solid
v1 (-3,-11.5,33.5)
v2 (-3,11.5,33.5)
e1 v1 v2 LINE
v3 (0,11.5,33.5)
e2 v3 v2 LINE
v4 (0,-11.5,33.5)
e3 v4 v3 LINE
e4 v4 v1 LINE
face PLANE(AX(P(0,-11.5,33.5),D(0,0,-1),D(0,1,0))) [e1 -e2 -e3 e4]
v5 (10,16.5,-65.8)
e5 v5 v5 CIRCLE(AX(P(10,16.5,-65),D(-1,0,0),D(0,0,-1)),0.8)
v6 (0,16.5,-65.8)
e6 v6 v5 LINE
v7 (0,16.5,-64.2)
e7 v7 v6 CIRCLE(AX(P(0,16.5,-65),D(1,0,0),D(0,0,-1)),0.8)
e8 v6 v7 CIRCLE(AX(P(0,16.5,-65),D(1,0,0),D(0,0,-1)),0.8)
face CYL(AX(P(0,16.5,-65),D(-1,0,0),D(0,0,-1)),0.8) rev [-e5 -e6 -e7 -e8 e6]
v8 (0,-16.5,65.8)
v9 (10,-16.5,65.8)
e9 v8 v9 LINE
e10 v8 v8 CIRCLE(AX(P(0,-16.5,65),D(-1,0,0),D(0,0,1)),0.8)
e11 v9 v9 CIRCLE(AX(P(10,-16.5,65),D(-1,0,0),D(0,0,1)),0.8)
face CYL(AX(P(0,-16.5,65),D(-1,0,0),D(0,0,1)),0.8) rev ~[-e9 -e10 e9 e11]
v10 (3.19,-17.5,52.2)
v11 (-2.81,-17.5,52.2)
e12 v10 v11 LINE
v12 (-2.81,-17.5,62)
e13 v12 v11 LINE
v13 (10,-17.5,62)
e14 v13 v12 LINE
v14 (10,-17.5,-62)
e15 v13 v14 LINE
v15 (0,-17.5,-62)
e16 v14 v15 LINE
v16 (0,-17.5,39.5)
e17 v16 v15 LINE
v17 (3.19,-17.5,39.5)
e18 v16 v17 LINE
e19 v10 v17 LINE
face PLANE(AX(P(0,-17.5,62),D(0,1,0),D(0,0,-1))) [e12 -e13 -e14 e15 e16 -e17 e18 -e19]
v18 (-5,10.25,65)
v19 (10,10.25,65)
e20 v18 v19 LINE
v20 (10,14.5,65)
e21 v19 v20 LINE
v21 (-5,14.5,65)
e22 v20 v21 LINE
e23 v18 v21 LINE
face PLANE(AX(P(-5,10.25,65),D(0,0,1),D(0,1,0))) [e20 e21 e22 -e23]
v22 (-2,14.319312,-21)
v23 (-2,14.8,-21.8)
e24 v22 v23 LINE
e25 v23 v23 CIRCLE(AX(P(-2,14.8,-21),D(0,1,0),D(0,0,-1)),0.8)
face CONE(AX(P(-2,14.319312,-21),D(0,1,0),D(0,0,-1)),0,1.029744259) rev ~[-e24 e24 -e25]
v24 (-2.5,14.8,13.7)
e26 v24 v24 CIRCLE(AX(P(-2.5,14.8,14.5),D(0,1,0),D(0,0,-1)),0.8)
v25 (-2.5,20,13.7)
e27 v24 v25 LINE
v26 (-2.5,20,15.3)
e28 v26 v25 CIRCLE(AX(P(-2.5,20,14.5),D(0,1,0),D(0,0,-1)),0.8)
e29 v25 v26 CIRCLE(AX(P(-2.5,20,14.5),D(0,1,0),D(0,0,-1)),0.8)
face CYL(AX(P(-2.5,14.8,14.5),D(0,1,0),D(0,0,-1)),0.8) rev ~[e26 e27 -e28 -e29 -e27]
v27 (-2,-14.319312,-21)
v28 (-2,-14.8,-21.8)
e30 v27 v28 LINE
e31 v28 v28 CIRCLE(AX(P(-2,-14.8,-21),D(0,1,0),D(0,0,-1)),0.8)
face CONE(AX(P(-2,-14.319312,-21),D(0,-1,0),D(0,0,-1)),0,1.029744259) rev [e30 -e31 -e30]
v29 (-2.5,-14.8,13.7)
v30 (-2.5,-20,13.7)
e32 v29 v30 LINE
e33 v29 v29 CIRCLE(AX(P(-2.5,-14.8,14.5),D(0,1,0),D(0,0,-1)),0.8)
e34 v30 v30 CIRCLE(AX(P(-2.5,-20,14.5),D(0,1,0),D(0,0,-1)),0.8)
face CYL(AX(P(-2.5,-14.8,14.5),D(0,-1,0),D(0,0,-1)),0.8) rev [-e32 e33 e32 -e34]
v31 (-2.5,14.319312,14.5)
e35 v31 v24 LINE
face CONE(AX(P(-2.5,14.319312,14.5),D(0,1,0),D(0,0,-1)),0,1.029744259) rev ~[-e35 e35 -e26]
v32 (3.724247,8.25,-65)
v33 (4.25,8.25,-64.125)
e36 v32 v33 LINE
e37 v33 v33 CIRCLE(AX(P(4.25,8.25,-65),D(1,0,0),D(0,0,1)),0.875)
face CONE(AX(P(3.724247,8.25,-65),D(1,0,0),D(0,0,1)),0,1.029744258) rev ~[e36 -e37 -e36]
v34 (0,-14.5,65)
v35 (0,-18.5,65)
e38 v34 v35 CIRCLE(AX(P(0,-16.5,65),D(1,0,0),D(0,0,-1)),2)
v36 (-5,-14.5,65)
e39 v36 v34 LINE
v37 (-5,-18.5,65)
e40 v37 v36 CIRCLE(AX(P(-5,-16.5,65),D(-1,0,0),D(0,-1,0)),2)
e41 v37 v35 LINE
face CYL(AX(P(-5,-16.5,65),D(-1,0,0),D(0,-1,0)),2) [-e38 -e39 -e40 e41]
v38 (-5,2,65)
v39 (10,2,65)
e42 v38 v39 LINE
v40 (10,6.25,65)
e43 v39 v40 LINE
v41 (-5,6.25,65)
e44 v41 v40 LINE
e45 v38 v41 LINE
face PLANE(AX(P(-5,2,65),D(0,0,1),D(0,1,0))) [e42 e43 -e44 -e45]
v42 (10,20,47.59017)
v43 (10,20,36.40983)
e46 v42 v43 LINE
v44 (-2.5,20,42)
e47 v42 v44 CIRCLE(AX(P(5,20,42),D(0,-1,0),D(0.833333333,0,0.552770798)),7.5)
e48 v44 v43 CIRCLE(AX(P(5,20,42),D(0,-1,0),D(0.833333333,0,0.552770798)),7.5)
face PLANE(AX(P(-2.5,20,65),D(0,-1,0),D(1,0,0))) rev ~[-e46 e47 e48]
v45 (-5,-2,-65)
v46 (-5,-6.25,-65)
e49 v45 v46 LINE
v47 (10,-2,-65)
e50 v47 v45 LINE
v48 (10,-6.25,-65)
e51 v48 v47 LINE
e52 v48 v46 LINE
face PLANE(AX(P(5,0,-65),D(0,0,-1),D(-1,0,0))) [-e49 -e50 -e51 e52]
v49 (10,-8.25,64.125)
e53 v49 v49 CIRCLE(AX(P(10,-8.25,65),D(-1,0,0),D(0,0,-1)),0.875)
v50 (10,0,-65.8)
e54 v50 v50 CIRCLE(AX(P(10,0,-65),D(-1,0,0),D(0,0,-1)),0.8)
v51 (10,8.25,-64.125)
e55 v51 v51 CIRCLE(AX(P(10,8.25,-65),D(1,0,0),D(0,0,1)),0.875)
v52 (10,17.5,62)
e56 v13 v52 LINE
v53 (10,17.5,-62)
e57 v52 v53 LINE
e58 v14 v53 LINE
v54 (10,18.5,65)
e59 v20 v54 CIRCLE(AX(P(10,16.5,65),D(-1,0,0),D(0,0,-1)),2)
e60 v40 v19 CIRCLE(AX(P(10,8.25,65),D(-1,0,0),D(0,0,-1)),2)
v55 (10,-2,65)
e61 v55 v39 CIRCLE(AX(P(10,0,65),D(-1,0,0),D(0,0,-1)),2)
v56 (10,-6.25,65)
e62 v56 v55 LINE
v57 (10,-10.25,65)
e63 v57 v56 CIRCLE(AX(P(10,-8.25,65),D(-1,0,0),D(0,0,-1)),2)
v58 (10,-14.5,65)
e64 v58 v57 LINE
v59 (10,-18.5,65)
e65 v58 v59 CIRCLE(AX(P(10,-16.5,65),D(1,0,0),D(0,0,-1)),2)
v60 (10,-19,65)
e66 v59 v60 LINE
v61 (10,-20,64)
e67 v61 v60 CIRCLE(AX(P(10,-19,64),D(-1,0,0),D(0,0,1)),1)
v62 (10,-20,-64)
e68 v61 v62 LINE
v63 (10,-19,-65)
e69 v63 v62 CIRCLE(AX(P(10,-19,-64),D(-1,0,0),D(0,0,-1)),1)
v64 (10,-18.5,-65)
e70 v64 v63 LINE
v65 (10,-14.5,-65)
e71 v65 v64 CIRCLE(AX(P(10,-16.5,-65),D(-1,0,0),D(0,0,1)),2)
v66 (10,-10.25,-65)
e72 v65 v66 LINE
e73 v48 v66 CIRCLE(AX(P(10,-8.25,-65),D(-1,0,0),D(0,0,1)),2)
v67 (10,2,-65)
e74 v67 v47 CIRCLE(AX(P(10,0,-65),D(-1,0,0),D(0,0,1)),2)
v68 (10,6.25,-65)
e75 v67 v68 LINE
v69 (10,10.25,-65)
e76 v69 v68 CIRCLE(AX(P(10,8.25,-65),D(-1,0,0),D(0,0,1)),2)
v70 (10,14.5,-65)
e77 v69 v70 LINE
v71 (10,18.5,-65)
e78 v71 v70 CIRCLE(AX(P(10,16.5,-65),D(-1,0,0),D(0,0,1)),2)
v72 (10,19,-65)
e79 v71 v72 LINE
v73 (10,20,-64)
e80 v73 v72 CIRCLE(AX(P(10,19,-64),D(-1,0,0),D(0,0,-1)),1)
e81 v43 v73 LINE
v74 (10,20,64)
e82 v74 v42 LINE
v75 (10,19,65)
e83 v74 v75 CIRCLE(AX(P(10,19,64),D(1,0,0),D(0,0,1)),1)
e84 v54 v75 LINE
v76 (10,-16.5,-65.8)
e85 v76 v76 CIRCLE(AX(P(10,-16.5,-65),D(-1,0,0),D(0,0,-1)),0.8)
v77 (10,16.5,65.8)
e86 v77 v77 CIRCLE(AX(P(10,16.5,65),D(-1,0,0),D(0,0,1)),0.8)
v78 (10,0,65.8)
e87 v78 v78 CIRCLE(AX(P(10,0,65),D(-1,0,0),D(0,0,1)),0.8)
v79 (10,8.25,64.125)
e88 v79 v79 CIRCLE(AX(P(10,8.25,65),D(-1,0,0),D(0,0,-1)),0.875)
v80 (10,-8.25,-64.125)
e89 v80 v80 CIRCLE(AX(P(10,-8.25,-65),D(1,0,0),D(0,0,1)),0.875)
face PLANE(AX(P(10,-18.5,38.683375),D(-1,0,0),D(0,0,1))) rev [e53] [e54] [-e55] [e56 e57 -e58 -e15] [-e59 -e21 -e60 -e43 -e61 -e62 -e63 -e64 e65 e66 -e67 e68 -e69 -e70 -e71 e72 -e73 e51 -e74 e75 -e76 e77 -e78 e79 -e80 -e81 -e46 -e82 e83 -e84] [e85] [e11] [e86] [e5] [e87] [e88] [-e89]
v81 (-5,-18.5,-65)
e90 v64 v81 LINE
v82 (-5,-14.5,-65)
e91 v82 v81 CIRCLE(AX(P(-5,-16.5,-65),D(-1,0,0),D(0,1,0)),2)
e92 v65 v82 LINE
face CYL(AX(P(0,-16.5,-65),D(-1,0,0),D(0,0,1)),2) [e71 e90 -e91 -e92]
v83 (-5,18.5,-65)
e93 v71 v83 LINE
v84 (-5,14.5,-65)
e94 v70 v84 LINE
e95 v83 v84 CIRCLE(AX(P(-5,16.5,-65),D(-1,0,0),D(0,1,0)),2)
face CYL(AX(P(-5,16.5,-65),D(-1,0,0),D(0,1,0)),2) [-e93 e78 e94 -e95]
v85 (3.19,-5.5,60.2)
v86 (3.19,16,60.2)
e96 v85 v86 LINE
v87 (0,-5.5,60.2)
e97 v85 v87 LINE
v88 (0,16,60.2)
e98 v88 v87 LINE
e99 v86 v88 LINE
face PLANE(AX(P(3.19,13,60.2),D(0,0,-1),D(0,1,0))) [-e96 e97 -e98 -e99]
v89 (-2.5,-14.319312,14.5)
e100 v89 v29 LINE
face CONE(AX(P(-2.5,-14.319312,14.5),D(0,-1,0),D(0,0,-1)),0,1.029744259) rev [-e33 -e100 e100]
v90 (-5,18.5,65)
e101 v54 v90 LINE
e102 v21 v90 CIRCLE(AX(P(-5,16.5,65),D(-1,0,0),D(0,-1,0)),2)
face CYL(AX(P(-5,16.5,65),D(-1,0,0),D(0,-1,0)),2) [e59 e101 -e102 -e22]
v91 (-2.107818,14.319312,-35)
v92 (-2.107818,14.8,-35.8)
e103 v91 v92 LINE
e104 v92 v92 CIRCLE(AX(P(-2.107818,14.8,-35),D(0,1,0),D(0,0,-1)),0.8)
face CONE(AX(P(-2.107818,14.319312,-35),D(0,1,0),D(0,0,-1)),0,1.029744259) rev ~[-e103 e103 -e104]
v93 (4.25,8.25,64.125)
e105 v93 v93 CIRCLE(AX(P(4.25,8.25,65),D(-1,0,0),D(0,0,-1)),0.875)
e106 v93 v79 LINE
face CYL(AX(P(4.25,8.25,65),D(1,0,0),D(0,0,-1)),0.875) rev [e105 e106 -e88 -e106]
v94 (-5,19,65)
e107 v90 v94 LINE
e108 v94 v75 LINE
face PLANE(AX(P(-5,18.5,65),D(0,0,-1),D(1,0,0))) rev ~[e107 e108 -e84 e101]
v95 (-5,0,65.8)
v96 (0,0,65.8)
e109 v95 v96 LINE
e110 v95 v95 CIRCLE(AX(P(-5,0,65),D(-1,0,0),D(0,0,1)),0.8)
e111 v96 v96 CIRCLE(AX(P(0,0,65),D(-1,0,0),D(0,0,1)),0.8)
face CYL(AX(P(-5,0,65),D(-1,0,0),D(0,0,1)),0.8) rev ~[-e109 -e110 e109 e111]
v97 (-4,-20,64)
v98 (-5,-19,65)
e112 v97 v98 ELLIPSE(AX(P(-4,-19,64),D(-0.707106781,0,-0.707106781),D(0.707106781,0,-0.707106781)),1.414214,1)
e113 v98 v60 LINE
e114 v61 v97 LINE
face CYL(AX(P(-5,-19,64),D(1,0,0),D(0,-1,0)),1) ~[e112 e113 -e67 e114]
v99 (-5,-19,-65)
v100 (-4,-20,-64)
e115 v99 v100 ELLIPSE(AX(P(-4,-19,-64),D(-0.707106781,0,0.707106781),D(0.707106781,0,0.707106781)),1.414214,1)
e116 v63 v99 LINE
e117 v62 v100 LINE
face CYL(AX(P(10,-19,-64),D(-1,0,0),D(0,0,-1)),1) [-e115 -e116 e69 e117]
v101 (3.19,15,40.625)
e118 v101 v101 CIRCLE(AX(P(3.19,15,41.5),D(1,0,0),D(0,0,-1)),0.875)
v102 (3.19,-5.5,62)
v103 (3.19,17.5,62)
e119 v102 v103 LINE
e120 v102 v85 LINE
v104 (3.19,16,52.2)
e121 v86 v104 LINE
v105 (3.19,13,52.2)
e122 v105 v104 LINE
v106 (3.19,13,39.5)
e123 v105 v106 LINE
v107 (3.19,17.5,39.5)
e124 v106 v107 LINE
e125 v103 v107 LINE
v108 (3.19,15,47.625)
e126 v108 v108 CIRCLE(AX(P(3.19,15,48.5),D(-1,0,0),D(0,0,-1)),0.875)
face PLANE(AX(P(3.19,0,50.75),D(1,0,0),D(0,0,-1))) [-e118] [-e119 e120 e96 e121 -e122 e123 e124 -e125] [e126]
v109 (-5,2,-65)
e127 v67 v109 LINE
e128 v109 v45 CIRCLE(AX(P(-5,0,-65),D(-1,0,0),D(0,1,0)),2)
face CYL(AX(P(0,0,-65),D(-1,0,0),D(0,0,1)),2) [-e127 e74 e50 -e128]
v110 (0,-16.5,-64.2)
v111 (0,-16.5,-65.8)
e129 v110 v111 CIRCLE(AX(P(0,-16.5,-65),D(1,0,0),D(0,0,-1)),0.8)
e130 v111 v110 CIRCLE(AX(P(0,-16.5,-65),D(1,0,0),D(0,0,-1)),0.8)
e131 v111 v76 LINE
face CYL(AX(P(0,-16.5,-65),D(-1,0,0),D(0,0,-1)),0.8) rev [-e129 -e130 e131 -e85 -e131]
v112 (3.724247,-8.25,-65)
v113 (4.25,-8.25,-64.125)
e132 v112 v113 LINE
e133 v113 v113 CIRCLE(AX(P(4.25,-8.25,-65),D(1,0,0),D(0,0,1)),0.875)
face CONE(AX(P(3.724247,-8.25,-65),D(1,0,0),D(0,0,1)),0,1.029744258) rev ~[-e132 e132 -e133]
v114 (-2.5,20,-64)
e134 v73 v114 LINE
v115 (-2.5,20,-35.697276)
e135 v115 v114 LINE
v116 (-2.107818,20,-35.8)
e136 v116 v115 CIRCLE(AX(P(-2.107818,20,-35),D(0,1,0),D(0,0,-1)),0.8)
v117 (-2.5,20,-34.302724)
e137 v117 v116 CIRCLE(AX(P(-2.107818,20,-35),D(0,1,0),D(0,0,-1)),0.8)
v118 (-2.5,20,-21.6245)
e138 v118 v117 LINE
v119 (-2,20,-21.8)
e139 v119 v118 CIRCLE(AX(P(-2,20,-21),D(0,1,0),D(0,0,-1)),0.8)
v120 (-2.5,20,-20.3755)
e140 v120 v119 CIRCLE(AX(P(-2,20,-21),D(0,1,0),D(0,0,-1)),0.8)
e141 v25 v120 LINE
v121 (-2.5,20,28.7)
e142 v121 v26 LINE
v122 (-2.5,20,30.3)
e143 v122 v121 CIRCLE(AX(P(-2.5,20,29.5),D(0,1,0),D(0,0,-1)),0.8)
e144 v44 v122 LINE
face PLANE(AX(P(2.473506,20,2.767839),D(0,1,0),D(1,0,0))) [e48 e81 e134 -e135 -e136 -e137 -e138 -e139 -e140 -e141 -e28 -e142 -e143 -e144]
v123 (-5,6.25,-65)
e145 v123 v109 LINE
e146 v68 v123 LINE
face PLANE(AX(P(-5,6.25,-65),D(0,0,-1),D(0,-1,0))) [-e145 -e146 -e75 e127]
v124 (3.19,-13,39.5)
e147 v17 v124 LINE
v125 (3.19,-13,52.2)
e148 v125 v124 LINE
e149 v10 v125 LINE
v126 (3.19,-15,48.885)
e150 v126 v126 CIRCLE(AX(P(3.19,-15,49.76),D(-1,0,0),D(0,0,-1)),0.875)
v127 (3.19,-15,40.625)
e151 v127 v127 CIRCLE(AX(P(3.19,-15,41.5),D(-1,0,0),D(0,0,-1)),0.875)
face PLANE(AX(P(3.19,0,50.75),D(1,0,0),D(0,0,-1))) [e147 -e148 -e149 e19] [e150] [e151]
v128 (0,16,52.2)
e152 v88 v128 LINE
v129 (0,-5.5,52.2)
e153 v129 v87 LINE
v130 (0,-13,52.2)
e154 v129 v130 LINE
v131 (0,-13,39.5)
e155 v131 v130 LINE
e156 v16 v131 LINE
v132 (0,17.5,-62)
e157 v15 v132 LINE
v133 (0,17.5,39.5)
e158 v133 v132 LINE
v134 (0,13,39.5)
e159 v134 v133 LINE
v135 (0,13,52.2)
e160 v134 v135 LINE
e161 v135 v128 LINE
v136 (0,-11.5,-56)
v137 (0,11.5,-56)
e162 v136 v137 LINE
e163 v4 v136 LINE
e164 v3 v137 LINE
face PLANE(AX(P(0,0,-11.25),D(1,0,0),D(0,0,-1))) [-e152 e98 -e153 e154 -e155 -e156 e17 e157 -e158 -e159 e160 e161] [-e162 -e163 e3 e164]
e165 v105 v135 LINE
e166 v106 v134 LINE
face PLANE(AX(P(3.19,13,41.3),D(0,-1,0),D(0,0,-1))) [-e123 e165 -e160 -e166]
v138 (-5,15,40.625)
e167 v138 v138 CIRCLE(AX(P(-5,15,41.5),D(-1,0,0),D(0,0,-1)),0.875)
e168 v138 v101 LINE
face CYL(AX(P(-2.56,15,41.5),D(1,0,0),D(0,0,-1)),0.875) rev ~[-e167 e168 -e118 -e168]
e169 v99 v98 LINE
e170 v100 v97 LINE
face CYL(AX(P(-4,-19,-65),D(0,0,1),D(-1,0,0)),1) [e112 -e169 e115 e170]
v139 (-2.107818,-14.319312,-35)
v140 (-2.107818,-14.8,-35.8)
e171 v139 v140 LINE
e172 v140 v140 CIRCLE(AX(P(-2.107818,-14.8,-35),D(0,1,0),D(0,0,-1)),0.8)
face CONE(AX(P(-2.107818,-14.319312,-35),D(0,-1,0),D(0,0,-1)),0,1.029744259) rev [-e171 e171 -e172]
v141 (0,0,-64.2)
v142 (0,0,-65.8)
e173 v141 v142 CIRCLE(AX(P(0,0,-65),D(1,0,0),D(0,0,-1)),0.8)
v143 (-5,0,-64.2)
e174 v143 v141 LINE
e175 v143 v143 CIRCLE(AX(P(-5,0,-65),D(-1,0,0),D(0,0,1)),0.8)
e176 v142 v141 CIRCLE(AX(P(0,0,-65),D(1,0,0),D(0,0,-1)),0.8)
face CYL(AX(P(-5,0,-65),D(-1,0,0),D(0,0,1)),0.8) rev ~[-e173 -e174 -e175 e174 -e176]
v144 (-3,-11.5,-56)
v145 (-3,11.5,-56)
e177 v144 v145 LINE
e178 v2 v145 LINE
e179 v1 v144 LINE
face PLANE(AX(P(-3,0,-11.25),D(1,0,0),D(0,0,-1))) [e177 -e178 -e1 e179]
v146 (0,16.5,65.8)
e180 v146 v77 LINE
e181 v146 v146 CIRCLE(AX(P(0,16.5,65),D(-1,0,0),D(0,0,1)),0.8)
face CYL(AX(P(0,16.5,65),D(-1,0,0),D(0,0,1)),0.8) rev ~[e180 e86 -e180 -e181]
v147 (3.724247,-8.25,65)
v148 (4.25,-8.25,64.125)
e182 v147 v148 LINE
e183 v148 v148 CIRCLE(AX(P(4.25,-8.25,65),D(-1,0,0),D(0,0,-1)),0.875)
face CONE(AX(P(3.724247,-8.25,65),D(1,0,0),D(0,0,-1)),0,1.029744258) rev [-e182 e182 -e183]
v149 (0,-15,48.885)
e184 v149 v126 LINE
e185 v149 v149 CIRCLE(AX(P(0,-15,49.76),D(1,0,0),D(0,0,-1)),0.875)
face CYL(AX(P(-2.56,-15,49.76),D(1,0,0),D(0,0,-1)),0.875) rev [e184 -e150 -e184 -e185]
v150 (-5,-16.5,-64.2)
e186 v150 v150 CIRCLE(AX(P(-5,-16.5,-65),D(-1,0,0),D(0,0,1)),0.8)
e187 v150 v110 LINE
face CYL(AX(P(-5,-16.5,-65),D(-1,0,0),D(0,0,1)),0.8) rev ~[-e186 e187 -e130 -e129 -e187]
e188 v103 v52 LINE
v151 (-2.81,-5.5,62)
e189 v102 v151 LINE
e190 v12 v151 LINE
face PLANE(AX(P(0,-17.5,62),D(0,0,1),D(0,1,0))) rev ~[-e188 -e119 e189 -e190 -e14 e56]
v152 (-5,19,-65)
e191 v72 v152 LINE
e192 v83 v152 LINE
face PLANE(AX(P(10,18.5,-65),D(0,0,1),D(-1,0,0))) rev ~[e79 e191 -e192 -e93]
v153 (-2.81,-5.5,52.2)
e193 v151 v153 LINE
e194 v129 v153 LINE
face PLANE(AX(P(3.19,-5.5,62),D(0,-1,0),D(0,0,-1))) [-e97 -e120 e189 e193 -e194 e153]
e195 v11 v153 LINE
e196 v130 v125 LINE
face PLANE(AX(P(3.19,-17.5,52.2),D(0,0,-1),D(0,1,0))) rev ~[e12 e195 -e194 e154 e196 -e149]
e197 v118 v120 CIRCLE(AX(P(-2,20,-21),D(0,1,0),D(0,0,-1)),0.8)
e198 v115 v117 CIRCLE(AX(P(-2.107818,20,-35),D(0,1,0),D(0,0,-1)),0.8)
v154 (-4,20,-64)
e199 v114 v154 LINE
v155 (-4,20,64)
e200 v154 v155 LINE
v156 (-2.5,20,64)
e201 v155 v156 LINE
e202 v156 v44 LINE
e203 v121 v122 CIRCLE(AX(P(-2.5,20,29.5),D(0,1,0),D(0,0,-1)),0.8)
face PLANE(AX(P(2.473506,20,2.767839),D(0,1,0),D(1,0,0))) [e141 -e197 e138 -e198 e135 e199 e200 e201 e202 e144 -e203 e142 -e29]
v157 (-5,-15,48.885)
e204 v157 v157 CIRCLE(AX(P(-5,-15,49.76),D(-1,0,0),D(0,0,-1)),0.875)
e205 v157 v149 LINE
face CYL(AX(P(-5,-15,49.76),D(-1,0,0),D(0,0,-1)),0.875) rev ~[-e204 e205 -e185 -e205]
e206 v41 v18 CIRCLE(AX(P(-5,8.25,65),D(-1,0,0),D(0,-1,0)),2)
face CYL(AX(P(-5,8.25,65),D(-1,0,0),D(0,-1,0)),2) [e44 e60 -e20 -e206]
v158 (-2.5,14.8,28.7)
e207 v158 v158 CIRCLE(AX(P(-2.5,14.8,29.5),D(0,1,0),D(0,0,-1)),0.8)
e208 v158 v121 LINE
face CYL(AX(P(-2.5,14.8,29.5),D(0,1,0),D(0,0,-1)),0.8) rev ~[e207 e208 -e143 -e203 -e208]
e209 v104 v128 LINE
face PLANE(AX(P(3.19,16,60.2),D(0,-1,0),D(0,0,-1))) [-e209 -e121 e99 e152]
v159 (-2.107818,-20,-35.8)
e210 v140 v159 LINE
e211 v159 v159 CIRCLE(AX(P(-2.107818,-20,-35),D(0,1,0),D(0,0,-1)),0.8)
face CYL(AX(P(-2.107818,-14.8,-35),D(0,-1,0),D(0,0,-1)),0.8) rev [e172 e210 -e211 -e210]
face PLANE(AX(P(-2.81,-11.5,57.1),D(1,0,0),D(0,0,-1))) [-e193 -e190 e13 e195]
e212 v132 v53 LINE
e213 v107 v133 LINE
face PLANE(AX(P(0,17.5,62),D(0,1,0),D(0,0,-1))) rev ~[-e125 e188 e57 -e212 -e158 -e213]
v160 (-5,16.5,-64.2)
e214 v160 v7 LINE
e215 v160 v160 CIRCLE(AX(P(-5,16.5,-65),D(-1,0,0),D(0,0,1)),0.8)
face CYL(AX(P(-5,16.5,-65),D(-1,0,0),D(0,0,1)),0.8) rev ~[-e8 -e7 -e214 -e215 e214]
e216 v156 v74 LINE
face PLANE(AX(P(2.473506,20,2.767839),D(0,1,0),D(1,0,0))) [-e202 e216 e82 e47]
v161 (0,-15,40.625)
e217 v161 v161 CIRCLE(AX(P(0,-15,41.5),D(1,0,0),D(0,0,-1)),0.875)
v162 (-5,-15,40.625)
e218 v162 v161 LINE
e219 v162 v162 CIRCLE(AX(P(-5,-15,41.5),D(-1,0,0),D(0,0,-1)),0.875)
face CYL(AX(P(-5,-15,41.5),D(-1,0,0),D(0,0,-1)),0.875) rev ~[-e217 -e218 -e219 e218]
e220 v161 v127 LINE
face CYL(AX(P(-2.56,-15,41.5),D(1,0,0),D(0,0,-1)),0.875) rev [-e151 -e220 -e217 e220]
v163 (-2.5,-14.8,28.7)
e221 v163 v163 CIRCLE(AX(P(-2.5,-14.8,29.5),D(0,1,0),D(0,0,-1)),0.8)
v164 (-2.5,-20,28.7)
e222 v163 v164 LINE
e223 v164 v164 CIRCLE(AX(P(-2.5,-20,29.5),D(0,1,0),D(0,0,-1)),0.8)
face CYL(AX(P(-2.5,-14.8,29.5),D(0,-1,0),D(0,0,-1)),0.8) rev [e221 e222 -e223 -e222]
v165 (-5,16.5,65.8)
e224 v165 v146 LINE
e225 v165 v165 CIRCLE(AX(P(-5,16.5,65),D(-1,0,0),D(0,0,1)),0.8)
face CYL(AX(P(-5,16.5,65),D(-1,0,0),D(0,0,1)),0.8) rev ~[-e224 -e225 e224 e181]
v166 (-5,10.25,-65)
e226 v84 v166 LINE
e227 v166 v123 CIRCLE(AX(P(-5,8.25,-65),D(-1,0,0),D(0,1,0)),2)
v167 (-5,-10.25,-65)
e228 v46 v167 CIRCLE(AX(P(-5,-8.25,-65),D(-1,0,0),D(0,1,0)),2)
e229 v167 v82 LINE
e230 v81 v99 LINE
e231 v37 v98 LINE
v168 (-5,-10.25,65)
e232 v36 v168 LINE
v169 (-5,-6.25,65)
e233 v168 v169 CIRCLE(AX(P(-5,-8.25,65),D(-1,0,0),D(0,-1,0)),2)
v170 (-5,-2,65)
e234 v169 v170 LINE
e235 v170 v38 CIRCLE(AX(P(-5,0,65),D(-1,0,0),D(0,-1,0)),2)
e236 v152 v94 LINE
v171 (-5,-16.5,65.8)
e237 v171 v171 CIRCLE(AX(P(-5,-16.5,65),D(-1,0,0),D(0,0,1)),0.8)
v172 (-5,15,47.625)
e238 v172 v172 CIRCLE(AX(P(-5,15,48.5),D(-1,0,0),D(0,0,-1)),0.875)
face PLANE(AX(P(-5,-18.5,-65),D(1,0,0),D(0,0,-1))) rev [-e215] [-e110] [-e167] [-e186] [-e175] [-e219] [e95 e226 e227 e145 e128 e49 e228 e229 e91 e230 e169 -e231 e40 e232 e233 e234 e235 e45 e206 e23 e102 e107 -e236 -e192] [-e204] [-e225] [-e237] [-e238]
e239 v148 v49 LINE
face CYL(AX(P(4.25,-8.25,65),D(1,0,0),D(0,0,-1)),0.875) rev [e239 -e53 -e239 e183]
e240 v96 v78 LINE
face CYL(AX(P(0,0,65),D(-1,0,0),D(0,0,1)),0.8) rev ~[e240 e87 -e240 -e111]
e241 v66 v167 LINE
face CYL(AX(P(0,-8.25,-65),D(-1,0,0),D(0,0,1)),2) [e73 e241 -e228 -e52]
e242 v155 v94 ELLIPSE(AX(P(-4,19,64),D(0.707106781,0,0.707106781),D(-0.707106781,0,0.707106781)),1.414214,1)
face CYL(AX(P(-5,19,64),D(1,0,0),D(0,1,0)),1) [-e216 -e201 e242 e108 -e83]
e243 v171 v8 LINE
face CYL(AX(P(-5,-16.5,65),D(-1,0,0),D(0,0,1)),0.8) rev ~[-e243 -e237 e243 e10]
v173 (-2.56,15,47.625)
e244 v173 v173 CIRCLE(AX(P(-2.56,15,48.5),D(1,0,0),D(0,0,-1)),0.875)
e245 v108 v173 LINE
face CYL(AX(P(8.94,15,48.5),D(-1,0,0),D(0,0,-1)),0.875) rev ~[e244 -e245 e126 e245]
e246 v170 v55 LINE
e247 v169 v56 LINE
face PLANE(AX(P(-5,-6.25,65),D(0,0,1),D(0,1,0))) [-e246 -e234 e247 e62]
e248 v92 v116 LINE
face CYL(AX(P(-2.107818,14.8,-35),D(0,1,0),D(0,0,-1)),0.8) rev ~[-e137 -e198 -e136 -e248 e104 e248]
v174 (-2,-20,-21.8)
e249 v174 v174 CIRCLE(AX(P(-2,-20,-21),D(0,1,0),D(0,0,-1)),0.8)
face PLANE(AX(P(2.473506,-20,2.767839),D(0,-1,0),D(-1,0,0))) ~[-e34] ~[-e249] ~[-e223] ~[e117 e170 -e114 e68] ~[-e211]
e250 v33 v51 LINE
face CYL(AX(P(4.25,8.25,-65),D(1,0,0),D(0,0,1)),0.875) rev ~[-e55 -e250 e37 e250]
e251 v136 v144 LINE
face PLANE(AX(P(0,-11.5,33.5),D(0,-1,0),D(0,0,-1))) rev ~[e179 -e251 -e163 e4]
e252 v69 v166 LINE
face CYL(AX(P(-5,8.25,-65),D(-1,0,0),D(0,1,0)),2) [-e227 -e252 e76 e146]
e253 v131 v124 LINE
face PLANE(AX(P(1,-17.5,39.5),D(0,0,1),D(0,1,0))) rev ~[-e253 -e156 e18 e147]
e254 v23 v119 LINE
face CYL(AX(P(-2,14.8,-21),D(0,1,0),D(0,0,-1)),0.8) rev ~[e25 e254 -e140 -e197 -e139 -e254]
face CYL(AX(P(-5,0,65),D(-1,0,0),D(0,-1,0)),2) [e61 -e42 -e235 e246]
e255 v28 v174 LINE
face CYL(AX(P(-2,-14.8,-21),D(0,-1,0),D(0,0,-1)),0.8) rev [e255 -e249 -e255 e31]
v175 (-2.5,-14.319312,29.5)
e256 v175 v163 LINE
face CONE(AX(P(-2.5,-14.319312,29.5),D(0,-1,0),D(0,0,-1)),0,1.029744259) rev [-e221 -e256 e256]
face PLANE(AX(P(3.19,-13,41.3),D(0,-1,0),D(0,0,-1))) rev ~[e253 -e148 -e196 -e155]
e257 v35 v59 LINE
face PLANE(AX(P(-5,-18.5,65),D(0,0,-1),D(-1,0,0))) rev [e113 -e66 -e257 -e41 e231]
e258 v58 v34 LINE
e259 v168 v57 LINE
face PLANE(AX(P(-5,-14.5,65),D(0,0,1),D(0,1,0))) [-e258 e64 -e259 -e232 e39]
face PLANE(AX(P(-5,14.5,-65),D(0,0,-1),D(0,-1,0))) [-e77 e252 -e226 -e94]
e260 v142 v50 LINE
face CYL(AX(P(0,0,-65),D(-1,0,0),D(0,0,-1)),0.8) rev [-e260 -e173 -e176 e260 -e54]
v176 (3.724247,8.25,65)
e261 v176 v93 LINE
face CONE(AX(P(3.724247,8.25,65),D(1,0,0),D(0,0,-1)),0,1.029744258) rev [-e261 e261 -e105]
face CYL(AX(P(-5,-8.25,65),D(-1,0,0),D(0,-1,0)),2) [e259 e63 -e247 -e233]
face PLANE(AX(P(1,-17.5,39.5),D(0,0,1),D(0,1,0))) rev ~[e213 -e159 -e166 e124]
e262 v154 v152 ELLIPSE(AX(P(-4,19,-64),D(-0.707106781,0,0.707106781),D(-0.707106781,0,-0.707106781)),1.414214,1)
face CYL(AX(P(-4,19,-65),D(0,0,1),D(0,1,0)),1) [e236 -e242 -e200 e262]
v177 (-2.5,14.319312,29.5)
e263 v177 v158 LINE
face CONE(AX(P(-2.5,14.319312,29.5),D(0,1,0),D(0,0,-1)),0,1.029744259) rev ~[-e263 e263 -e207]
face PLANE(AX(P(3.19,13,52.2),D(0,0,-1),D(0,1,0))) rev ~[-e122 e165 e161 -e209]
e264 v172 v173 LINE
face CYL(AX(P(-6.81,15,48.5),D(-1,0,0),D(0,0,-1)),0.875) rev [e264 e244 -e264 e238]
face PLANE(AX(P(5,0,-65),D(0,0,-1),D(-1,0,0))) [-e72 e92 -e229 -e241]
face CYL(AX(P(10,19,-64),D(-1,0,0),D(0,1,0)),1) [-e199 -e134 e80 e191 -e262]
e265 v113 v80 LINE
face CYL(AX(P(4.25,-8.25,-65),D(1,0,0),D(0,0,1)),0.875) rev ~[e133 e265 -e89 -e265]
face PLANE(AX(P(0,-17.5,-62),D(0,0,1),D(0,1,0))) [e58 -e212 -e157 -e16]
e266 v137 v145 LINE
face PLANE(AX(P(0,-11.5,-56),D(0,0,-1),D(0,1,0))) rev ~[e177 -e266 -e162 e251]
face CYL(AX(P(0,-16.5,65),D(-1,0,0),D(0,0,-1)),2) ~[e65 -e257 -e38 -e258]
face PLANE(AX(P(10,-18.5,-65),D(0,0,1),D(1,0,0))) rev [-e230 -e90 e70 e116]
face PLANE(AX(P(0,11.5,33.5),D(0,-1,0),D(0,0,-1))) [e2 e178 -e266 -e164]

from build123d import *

# Parameters (mm, degrees)
SKETCH_1_W                  = 126
SKETCH_1_H                  = 37
SKETCH_1_W_2                = 124
SKETCH_1_H_2                = 35
EXTRUDE_1_DEPTH             = 10
SKETCH_2_W                  = 126
SKETCH_2_H                  = 37
EXTRUDE_2_DEPTH             = 1
SKETCH_3_W                  = 10
SKETCH_3_H                  = 37
EXTRUDE_3_DEPTH             = 2
SKETCH_4_W                  = 10
SKETCH_4_H                  = 37
EXTRUDE_4_DEPTH             = 2
SKETCH_5_W                  = 22.5
SKETCH_5_H                  = 35
EXTRUDE_5_DEPTH             = 2.19
SKETCH_6_W                  = 18.9
SKETCH_6_H                  = 26
CUT_EXTRUDE_2_DEPTH         = 7
SKETCH_7_W                  = 1.8
SKETCH_7_H                  = 26
CUT_EXTRUDE_3_DEPTH         = 4
M2_2X0_45_2_AT_2_COUNT      = 2
M2_2X0_45_2_AT_2_PITCH      = 8.26
SKETCH_10_R                 = 2
EXTRUDE_6_DEPTH             = 10
PATTERN_LINEAR_1_COUNT      = 5
PATTERN_LINEAR_1_PITCH      = 8.25
MIRROR_2_COPY_1_SKETCH_R    = 2
MIRROR_2_COPY_1_DEPTH       = 10
MIRROR_2_COPY_2_SKETCH_R    = 2
MIRROR_2_COPY_2_DEPTH       = 10
MIRROR_2_COPY_3_SKETCH_R    = 2
MIRROR_2_COPY_3_DEPTH       = 10
MIRROR_2_COPY_4_SKETCH_R    = 2
MIRROR_2_COPY_4_DEPTH       = 10
M2_2X0_45_3_AT_2_COUNT      = 2
M2_2X0_45_3_AT_2_PITCH      = 16.5
SKETCH_13_R                 = 0.8
CUT_EXTRUDE_4_DEPTH         = 71.222859526
EXTRUDE_START               = 5
SKETCH_14_R                 = 0.8
SKETCH_14_R_2               = 0.875
EXTRUDE_7_DEPTH             = 5
SKETCH_15_W                 = 101.5
SKETCH_15_H                 = 35
CUT_EXTRUDE_5_DEPTH         = 1
EXTRUDE_8_DEPTH             = 4.5
SKETCH_18_R                 = 2.95
EXTRUDE_9_DEPTH             = 3.5
SKETCH_19_R                 = 1.025
CUT_EXTRUDE_7_DEPTH         = 0.65
EXTRUDE_10_DEPTH            = 1.5
CHAMFER_1_SIZE              = 1.5
HOLE_WIZARD_M2_3_AT_2_COUNT = 2
HOLE_WIZARD_M2_3_AT_2_PITCH = 15
HOLE_WIZARD_M2_3_AT_3_COUNT = 2
HOLE_WIZARD_M2_3_AT_3_PITCH = 40
HOLE_WIZARD_M2_3_AT_4_COUNT = 2
HOLE_WIZARD_M2_3_AT_4_PITCH = 75
FILLET_2_R                  = 0.5
SKETCH_23_R                 = 1.404261487
EXTRUDE_11_DEPTH            = 8
M2_2X0_45_1_D               = 1.75
M2_2X0_45_1_DEPTH           = 5.75
M2_2X0_45_1_TIP             = 0.525753042
SKETCH_16_W                 = 9.8
SKETCH_16_H                 = 12
CUT_EXTRUDE_8_DEPTH         = 6
SKETCH_27_W                 = 8
SKETCH_27_H                 = 3
CUT_EXTRUDE_9_DEPTH         = 3.19
SKETCH_28_R                 = 1
SKETCH_28_R_2               = 2.011065783
EXTRUDE_12_DEPTH            = 40
HOLE_WIZARD_M2_5_AT_2_COUNT = 2
HOLE_WIZARD_M2_5_AT_2_PITCH = 14.000415164
SKETCH_31_W                 = 89.5
SKETCH_31_H                 = 23
CUT_EXTRUDE_10_DEPTH        = 3
FILLET_3_R                  = 1
FILLET_4_R                  = 0.5
CUT_EXTRUDE_START           = -10
SKETCH_32_R                 = 0.875
CUT_EXTRUDE_11_DEPTH        = 10
HOLE_WIZARD_M2_5_1_D        = 2.05
HOLE_WIZARD_M2_5_1_DEPTH    = 4.35
HOLE_WIZARD_M2_5_1_TIP      = 0.615882135
HOLE_WIZARD_M2_5_2_D        = 2.05
HOLE_WIZARD_M2_5_2_DEPTH    = 4.35
HOLE_WIZARD_M2_5_2_TIP      = 0.615882135
SKETCH_37_W                 = 15.88891709
SKETCH_37_H                 = 8.846088843
SKETCH_37_W_2               = 12.988941584
SKETCH_37_H_2               = 7.120984174
CUT_EXTRUDE_12_DEPTH        = 130


with BuildPart() as part:
    # 草图1 → 凸台-拉伸1 (new body)
    with BuildSketch(Plane(origin=(0, 0, 0), x_dir=(0, 0, -1), z_dir=(1, 0, 0))):
        Rectangle(SKETCH_1_W, SKETCH_1_H)
        Rectangle(SKETCH_1_W_2, SKETCH_1_H_2, mode=Mode.SUBTRACT)
    extrude(amount=EXTRUDE_1_DEPTH)

    # 草图2 → 凸台-拉伸2 (add)
    with BuildSketch(Plane.ZY):
        Rectangle(SKETCH_2_W, SKETCH_2_H)
    extrude(amount=-EXTRUDE_2_DEPTH)

    # 草图3 → 凸台-拉伸3 (add)
    with BuildSketch(Plane(origin=(0, 0, -63), x_dir=(-1, 0, 0), z_dir=(0, 0, -1))):
        with Locations((-5, 0)):
            Rectangle(SKETCH_3_W, SKETCH_3_H)
    extrude(amount=EXTRUDE_3_DEPTH)

    # 草图4 → 凸台-拉伸4 (add)
    with BuildSketch(Plane.XY.offset(63)):
        with Locations((5, 0)):
            Rectangle(SKETCH_4_W, SKETCH_4_H)
    extrude(amount=EXTRUDE_4_DEPTH)

    # 草图5 → 凸台-拉伸5 (add)
    with BuildSketch(Plane(origin=(1, 0, 0), x_dir=(0, 0, -1), z_dir=(1, 0, 0))):
        with Locations((-50.75, 0)):
            Rectangle(SKETCH_5_W, SKETCH_5_H)
    extrude(amount=EXTRUDE_5_DEPTH)

    # 草图6 → 切除-拉伸2 (cut)
    with BuildSketch(Plane(origin=(3.19, 0, 0), x_dir=(0, 0, -1), z_dir=(1, 0, 0))):
        with Locations((-50.75, 0)):
            Rectangle(SKETCH_6_W, SKETCH_6_H)
    extrude(amount=-CUT_EXTRUDE_2_DEPTH, mode=Mode.SUBTRACT)

    # 草图7 → 切除-拉伸3 (cut)
    with BuildSketch(Plane(origin=(3.19, 0, 0), x_dir=(0, 0, -1), z_dir=(1, 0, 0))):
        with Locations((-40.4, 0)):
            Rectangle(SKETCH_7_W, SKETCH_7_H)
    extrude(amount=-CUT_EXTRUDE_3_DEPTH, mode=Mode.SUBTRACT)

    # 草图9 → M2.2x0.45 螺纹孔2 (revolve, cut)
    with BuildSketch(Plane(origin=(3.19, -15, 41.5), x_dir=(0, 0, -1), z_dir=(0, 1, 0))):
        Polygon((0, 0), (0, 6.275753042), (0.875, 5.75), (0.875, 0), align=None)
    m2_2x0_45_2 = revolve(axis=Axis((9.54, -15, 41.5), (-1, 0, 0)), mode=Mode.SUBTRACT)

    # M2.2x0.45 螺纹孔2 at 2: M2.2x0.45 螺纹孔2 ×2
    with Locations(*[(0, 0, i * M2_2X0_45_2_AT_2_PITCH) for i in range(1, M2_2X0_45_2_AT_2_COUNT)]):
        add(m2_2x0_45_2, mode=Mode.SUBTRACT)

    # 镜向1: M2.2x0.45 螺纹孔2 across plane
    add(m2_2x0_45_2.mirror(Plane.ZX), mode=Mode.SUBTRACT)

    # 镜向1 copy 1 sketch → 镜向1 copy 1 (revolve, cut)
    with BuildSketch(Plane(origin=(3.19, 15, 49.76), x_dir=(0, 0, -1), z_dir=(0, -1, 0))):
        Polygon((0, 0), (0, -6.275753042), (0.875, -5.75), (0.875, 0), align=None)
    revolve(axis=Axis((9.54, 15, 49.76), (1, 0, 0)), mode=Mode.SUBTRACT)

    # 草图10 → 凸台-拉伸6 (add)
    with BuildSketch(Plane.ZY):
        with Locations((-65, -16.5)):
            Circle(SKETCH_10_R)
    extrude_6 = extrude(amount=-EXTRUDE_6_DEPTH)

    # 阵列(线性)1: 凸台-拉伸6 ×5
    with Locations(*[(0, i * PATTERN_LINEAR_1_PITCH, 0) for i in range(1, PATTERN_LINEAR_1_COUNT)]):
        add(extrude_6)

    # 镜向2: 凸台-拉伸6 across plane
    add(extrude_6.mirror(Plane.XY))

    # 镜向2 copy 1 sketch → 镜向2 copy 1 (add)
    with BuildSketch(Plane(origin=(0, 8.25, 0), x_dir=(0, 0, -1), z_dir=(-1, 0, 0))):
        with Locations((-65, 16.5)):
            Circle(MIRROR_2_COPY_1_SKETCH_R)
    extrude(amount=-MIRROR_2_COPY_1_DEPTH)

    # 镜向2 copy 2 sketch → 镜向2 copy 2 (add)
    with BuildSketch(Plane(origin=(0, 16.5, 0), x_dir=(0, 0, -1), z_dir=(-1, 0, 0))):
        with Locations((-65, 16.5)):
            Circle(MIRROR_2_COPY_2_SKETCH_R)
    extrude(amount=-MIRROR_2_COPY_2_DEPTH)

    # 镜向2 copy 3 sketch → 镜向2 copy 3 (add)
    with BuildSketch(Plane(origin=(0, 24.75, 0), x_dir=(0, 0, -1), z_dir=(-1, 0, 0))):
        with Locations((-65, 16.5)):
            Circle(MIRROR_2_COPY_3_SKETCH_R)
    extrude(amount=-MIRROR_2_COPY_3_DEPTH)

    # 镜向2 copy 4 sketch → 镜向2 copy 4 (add)
    with BuildSketch(Plane(origin=(0, 33, 0), x_dir=(0, 0, -1), z_dir=(-1, 0, 0))):
        with Locations((-65, 16.5)):
            Circle(MIRROR_2_COPY_4_SKETCH_R)
    extrude(amount=-MIRROR_2_COPY_4_DEPTH)

    # 草图12 → M2.2x0.45 螺纹孔3 (revolve, cut)
    with BuildSketch(Plane(origin=(10, 8.25, 65), x_dir=(0, 0, -1), z_dir=(0, 1, 0))):
        Polygon((0, 0), (0, 6.275753042), (0.875, 5.75), (0.875, 0), align=None)
    m2_2x0_45_3 = revolve(axis=Axis((16.35, 8.25, 65), (-1, 0, 0)), mode=Mode.SUBTRACT)

    # M2.2x0.45 螺纹孔3 at 2: M2.2x0.45 螺纹孔3 ×2
    with Locations(*[(0, -i * M2_2X0_45_3_AT_2_PITCH, 0) for i in range(1, M2_2X0_45_3_AT_2_COUNT)]):
        add(m2_2x0_45_3, mode=Mode.SUBTRACT)

    # 草图13 → 切除-拉伸4 (cut, through all)
    with BuildSketch(Plane.ZY):
        with Locations((65, -16.5)):
            Circle(SKETCH_13_R)
        with Locations((65, 0)):
            Circle(SKETCH_13_R)
        with Locations((65, 16.5)):
            Circle(SKETCH_13_R)
    cut_extrude_4 = extrude(amount=-CUT_EXTRUDE_4_DEPTH, mode=Mode.SUBTRACT)

    # 镜向3: M2.2x0.45 螺纹孔3, 切除-拉伸4 across plane
    add(m2_2x0_45_3.mirror(Plane.XY), mode=Mode.SUBTRACT)
    add(cut_extrude_4.mirror(Plane.XY), mode=Mode.SUBTRACT)

    # 镜向3 copy 1 sketch → 镜向3 copy 1 (revolve, cut)
    with BuildSketch(Plane(origin=(10, -8.25, -65), x_dir=(0, 0, 1), z_dir=(0, 1, 0))):
        Polygon((0, 0), (0, -6.275753042), (0.875, -5.75), (0.875, 0), align=None)
    revolve(axis=Axis((16.35, -8.25, -65), (1, 0, 0)), mode=Mode.SUBTRACT)

    # 草图14 → 凸台-拉伸7 (add)
    with BuildSketch(Plane.ZY.offset(EXTRUDE_START)):
        with BuildLine():
            Line((65, 10.25), (65, 14.5))
            ThreePointArc((65, 14.5), (67, 16.5), (65, 18.5))
            Line((65, 18.5), (-65, 18.5))
            ThreePointArc((-65, 18.5), (-67, 16.5), (-65, 14.5))
            Line((-65, 14.5), (-65, 10.25))
            ThreePointArc((-65, 10.25), (-67, 8.25), (-65, 6.25))
            Line((-65, 6.25), (-65, 2))
            ThreePointArc((-65, 2), (-67, 0), (-65, -2))
            Line((-65, -2), (-65, -6.25))
            ThreePointArc((-65, -6.25), (-67, -8.25), (-65, -10.25))
            Line((-65, -10.25), (-65, -14.5))
            ThreePointArc((-65, -14.5), (-67, -16.5), (-65, -18.5))
            Line((-65, -18.5), (65, -18.5))
            ThreePointArc((65, -18.5), (67, -16.5), (65, -14.5))
            Line((65, -14.5), (65, -10.25))
            ThreePointArc((65, -10.25), (67, -8.25), (65, -6.25))
            Line((65, -6.25), (65, -2))
            ThreePointArc((65, -2), (67, 0), (65, 2))
            Line((65, 2), (65, 6.25))
            ThreePointArc((65, 6.25), (67, 8.25), (65, 10.25))
        make_face()
        with Locations((65, -16.5)):
            Circle(SKETCH_14_R, mode=Mode.SUBTRACT)
        with Locations((65, 0)):
            Circle(SKETCH_14_R, mode=Mode.SUBTRACT)
        with Locations((65, 16.5)):
            Circle(SKETCH_14_R, mode=Mode.SUBTRACT)
        with Locations((-65, 16.5)):
            Circle(SKETCH_14_R, mode=Mode.SUBTRACT)
        with Locations((-65, 0)):
            Circle(SKETCH_14_R, mode=Mode.SUBTRACT)
        with Locations((-65, -16.5)):
            Circle(SKETCH_14_R, mode=Mode.SUBTRACT)
        with Locations(Location((49.76, -15, 0), (0, 0, 180))):
            Circle(SKETCH_14_R_2, mode=Mode.SUBTRACT)
        with Locations(Location((41.5, -15, 0), (0, 0, 180))):
            Circle(SKETCH_14_R_2, mode=Mode.SUBTRACT)
        with Locations(Location((41.5, 15, 0), (0, 0, 180))):
            Circle(SKETCH_14_R_2, mode=Mode.SUBTRACT)
    extrude(amount=-EXTRUDE_7_DEPTH)

    # 草图15 → 切除-拉伸5 (cut)
    with BuildSketch(Plane(origin=(1, 0, 0), x_dir=(0, 0, -1), z_dir=(1, 0, 0))):
        with Locations((11.25, 0)):
            Rectangle(SKETCH_15_W, SKETCH_15_H)
    extrude(amount=-CUT_EXTRUDE_5_DEPTH, mode=Mode.SUBTRACT)

    # 草图17 → 凸台-拉伸8 (add)
    with BuildSketch(Plane(origin=(0, 18.5, 0), x_dir=(1, 0, 0), z_dir=(0, 1, 0))):
        with BuildLine():
            Line((10, -45.31662479), (10, -38.68337521))
            ThreePointArc((10, -38.68337521), (-1, -42), (10, -45.31662479))
        make_face()
    extrude_8 = extrude(amount=EXTRUDE_8_DEPTH)

    # 草图18 → 凸台-拉伸9 (add)
    with BuildSketch(Plane(origin=(0, 23, 0), x_dir=(1, 0, 0), z_dir=(0, 1, 0))):
        with Locations(Location((5, -42, 0), (0, 0, 270))):
            Circle(SKETCH_18_R)
    extrude_9 = extrude(amount=EXTRUDE_9_DEPTH)

    # 草图19 → 切除-拉伸7 (cut)
    with BuildSketch(Plane(origin=(0, 26.5, 0), x_dir=(1, 0, 0), z_dir=(0, 1, 0))):
        with Locations(Location((5, -42, 0), (0, 0, 270))):
            Circle(SKETCH_19_R)
    cut_extrude_7 = extrude(amount=-CUT_EXTRUDE_7_DEPTH, mode=Mode.SUBTRACT)

    # 草图20 → 凸台-拉伸10 (add)
    with BuildSketch(Plane(origin=(0, 18.5, 0), x_dir=(1, 0, 0), z_dir=(0, 1, 0))):
        with BuildLine():
            Line((10, 65), (-5, 65))
            Line((-5, 65), (-5, -65))
            Line((-5, -65), (10, -65))
            Line((10, -65), (10, -45.31662479))
            ThreePointArc((10, -45.31662479), (-1, -42), (10, -38.68337521))
            Line((10, -38.68337521), (10, 65))
        make_face()
    extrude_10 = extrude(amount=EXTRUDE_10_DEPTH)

    # 镜向6: 凸台-拉伸8, 凸台-拉伸9, 切除-拉伸7, 凸台-拉伸10 across plane
    add(extrude_8.mirror(Plane.ZX))
    add(extrude_9.mirror(Plane.ZX))
    add(cut_extrude_7.mirror(Plane.ZX), mode=Mode.SUBTRACT)
    add(extrude_10.mirror(Plane.ZX))

    # 倒角1
    chamfer_1_edges = [part.edges().sort_by_distance(p)[0] for p in [
        (-1, 20, 42),
        (-1, -20, 42),
    ]]
    chamfer(chamfer_1_edges, length=CHAMFER_1_SIZE)

    # 草图22 → M2 螺纹孔3 (revolve, cut)
    with BuildSketch(Plane(origin=(-2.5, -20, 29.5), x_dir=(0, 0, -1), z_dir=(1, 0, 0))):
        Polygon((0, 0), (0, 5.680688495), (0.8, 5.2), (0.8, 0), align=None)
    hole_wizard_m2_3 = revolve(axis=Axis((-2.5, -26.35, 29.5), (0, 1, 0)), mode=Mode.SUBTRACT)

    # M2 螺纹孔3 at 2: M2 螺纹孔3 ×2
    with Locations(*[(0, 0, -i * HOLE_WIZARD_M2_3_AT_2_PITCH) for i in range(1, HOLE_WIZARD_M2_3_AT_2_COUNT)]):
        add(hole_wizard_m2_3, mode=Mode.SUBTRACT)

    # M2 螺纹孔3 at 3: M2 螺纹孔3 ×2
    with Locations(*[(0, 0, -i * HOLE_WIZARD_M2_3_AT_3_PITCH) for i in range(1, HOLE_WIZARD_M2_3_AT_3_COUNT)]):
        add(hole_wizard_m2_3, mode=Mode.SUBTRACT)

    # M2 螺纹孔3 at 4: M2 螺纹孔3 ×2
    with Locations(*[(0, 0, -i * HOLE_WIZARD_M2_3_AT_4_PITCH) for i in range(1, HOLE_WIZARD_M2_3_AT_4_COUNT)]):
        add(hole_wizard_m2_3, mode=Mode.SUBTRACT)

    # 镜向7: M2 螺纹孔3 across plane
    add(hole_wizard_m2_3.mirror(Plane.ZX), mode=Mode.SUBTRACT)

    # 镜向7 copy 1 sketch → 镜向7 copy 1 (revolve, cut)
    with BuildSketch(Plane(origin=(-2.5, 20, 14.5), x_dir=(0, 0, -1), z_dir=(1, 0, 0))):
        Polygon((0, 0), (0, -5.680688495), (0.8, -5.2), (0.8, 0), align=None)
    revolve(axis=Axis((-2.5, 26.35, 14.5), (0, 1, 0)), mode=Mode.SUBTRACT)

    # 镜向7 copy 2 sketch → 镜向7 copy 2 (revolve, cut)
    with BuildSketch(Plane(origin=(-2.5, 20, -10.5), x_dir=(0, 0, -1), z_dir=(1, 0, 0))):
        Polygon((0, 0), (0, -5.680688495), (0.8, -5.2), (0.8, 0), align=None)
    revolve(axis=Axis((-2.5, 26.35, -10.5), (0, 1, 0)), mode=Mode.SUBTRACT)

    # 镜向7 copy 3 sketch → 镜向7 copy 3 (revolve, cut)
    with BuildSketch(Plane(origin=(-2.5, 20, -45.5), x_dir=(0, 0, -1), z_dir=(1, 0, 0))):
        Polygon((0, 0), (0, -5.680688495), (0.8, -5.2), (0.8, 0), align=None)
    revolve(axis=Axis((-2.5, 26.35, -45.5), (0, 1, 0)), mode=Mode.SUBTRACT)

    # 圆角2
    fillet_2_edges = [part.edges().sort_by_distance(p)[0] for p in [
        (5, 26.5, 39.05),
        (5, -26.5, 39.05),
    ]]
    fillet(fillet_2_edges, radius=FILLET_2_R)

    # 草图23 → 凸台-拉伸11 (add)
    with BuildSketch(Plane(origin=(3.19, 0, 0), x_dir=(0, 0, -1), z_dir=(1, 0, 0))):
        with Locations((-49.76, 15)):
            Circle(SKETCH_23_R)
    extrude(amount=-EXTRUDE_11_DEPTH)

    # M2.2x0.45 螺纹孔1
    with Locations(Plane(origin=(3.19, 15, 48.5), x_dir=(0, 0, 1), z_dir=(1, 0, 0))):
        with Locations((0, 0)):
            Hole(M2_2X0_45_1_D / 2, depth=M2_2X0_45_1_DEPTH)
            with Locations((0, 0, -(M2_2X0_45_1_DEPTH + M2_2X0_45_1_TIP / 2))):  # 118° drill point
                Cone(0, M2_2X0_45_1_D / 2, M2_2X0_45_1_TIP, mode=Mode.SUBTRACT)

    # 草图16 → 切除-拉伸8 (cut)
    with BuildSketch(Plane(origin=(3.19, 0, 0), x_dir=(0, 0, -1), z_dir=(1, 0, 0))):
        with Locations((-57.1, -11.5)):
            Rectangle(SKETCH_16_W, SKETCH_16_H)
    extrude(amount=-CUT_EXTRUDE_8_DEPTH, mode=Mode.SUBTRACT)

    # 草图27 → 切除-拉伸9 (cut)
    with BuildSketch(Plane(origin=(3.19, 0, 0), x_dir=(0, 0, -1), z_dir=(1, 0, 0))):
        with Locations((-56.2, 14.5)):
            Rectangle(SKETCH_27_W, SKETCH_27_H)
    extrude(amount=-CUT_EXTRUDE_9_DEPTH, mode=Mode.SUBTRACT)

    # 草图28 → 凸台-拉伸12 (add)
    with BuildSketch(Plane.XZ.offset(20)):
        with Locations((-2.5, -10.5)):
            Circle(SKETCH_28_R)
        with Locations((-2.5, -45.5)):
            Circle(SKETCH_28_R_2)
    extrude(amount=-EXTRUDE_12_DEPTH)

    # 草图30 → M2 螺纹孔5 (revolve, cut)
    with BuildSketch(Plane(origin=(-2.107818173, -20, -35), x_dir=(0, 0, -1), z_dir=(1, 0, 0))):
        Polygon((0, 0), (0, 5.680688495), (0.8, 5.2), (0.8, 0), align=None)
    hole_wizard_m2_5 = revolve(axis=Axis((-2.107818173, -26.35, -35), (0, 1, 0)), mode=Mode.SUBTRACT)

    # M2 螺纹孔5 at 2: M2 螺纹孔5 ×2
    with Locations(*[Vector(0.007701069674383212, 0, 0.999970346323265) * (i * HOLE_WIZARD_M2_5_AT_2_PITCH) for i in range(1, HOLE_WIZARD_M2_5_AT_2_COUNT)]):
        add(hole_wizard_m2_5, mode=Mode.SUBTRACT)

    # 镜向8: M2 螺纹孔5 across plane
    add(hole_wizard_m2_5.mirror(Plane.ZX), mode=Mode.SUBTRACT)

    # 镜向8 copy 1 sketch → 镜向8 copy 1 (revolve, cut)
    with BuildSketch(Plane(origin=(-2, 20, -21), x_dir=(0, 0, -1), z_dir=(1, 0, 0))):
        Polygon((0, 0), (0, -5.680688495), (0.8, -5.2), (0.8, 0), align=None)
    revolve(axis=Axis((-2, 26.35, -21), (0, 1, 0)), mode=Mode.SUBTRACT)

    # 草图31 → 切除-拉伸10 (cut)
    with BuildSketch(Plane(origin=(0, 0, 0), x_dir=(0, 0, -1), z_dir=(1, 0, 0))):
        with Locations((11.25, 0)):
            Rectangle(SKETCH_31_W, SKETCH_31_H)
    extrude(amount=-CUT_EXTRUDE_10_DEPTH, mode=Mode.SUBTRACT)

    # 圆角3
    fillet_3_edges = [part.edges().sort_by_distance(p)[0] for p in [
        (2.5, 20, -65),
        (-5, 20, 0),
        (2.5, 20, 65),
        (2.5, -20, 65),
        (-5, -20, 0),
        (2.5, -20, -65),
    ]]
    fillet(fillet_3_edges, radius=FILLET_3_R)

    # 圆角4
    fillet_4_edges = [part.edges().sort_by_distance(p)[0] for p in [
        (5, 23, 39.05),
        (5, -23, 39.05),
    ]]
    fillet(fillet_4_edges, radius=FILLET_4_R)

    # 草图32 → 切除-拉伸11 (cut)
    with BuildSketch(Plane(origin=(3.19, 0, 0), x_dir=(0, 0, -1), z_dir=(1, 0, 0)).offset(CUT_EXTRUDE_START)):
        with Locations((-48.5, 15)):
            Circle(SKETCH_32_R)
    extrude(amount=CUT_EXTRUDE_11_DEPTH, mode=Mode.SUBTRACT)

    # M2.5 螺纹孔1
    with Locations(Plane(origin=(5, 25.85, 42), x_dir=(0, 0, 1), z_dir=(0, 1, 0))):
        with Locations((0, 0)):
            Hole(HOLE_WIZARD_M2_5_1_D / 2, depth=HOLE_WIZARD_M2_5_1_DEPTH)
            with Locations((0, 0, -(HOLE_WIZARD_M2_5_1_DEPTH + HOLE_WIZARD_M2_5_1_TIP / 2))):  # 118° drill point
                Cone(0, HOLE_WIZARD_M2_5_1_D / 2, HOLE_WIZARD_M2_5_1_TIP, mode=Mode.SUBTRACT)

    # M2.5 螺纹孔2
    with Locations(Plane(origin=(5, -25.85, 42), x_dir=(0, 0, -1), z_dir=(0, -1, 0))):
        with Locations((0, 0)):
            Hole(HOLE_WIZARD_M2_5_2_D / 2, depth=HOLE_WIZARD_M2_5_2_DEPTH)
            with Locations((0, 0, -(HOLE_WIZARD_M2_5_2_DEPTH + HOLE_WIZARD_M2_5_2_TIP / 2))):  # 118° drill point
                Cone(0, HOLE_WIZARD_M2_5_2_D / 2, HOLE_WIZARD_M2_5_2_TIP, mode=Mode.SUBTRACT)

    # 草图37 → 切除-拉伸12 (cut)
    with BuildSketch(Plane.XY.offset(65)):
        with Locations((5.444458545, 24.423044422)):
            Rectangle(SKETCH_37_W, SKETCH_37_H)
        with Locations((3.994470792, -23.560492087)):
            Rectangle(SKETCH_37_W_2, SKETCH_37_H_2)
    extrude(amount=-CUT_EXTRUDE_12_DEPTH, mode=Mode.SUBTRACT)


solid = part.part
